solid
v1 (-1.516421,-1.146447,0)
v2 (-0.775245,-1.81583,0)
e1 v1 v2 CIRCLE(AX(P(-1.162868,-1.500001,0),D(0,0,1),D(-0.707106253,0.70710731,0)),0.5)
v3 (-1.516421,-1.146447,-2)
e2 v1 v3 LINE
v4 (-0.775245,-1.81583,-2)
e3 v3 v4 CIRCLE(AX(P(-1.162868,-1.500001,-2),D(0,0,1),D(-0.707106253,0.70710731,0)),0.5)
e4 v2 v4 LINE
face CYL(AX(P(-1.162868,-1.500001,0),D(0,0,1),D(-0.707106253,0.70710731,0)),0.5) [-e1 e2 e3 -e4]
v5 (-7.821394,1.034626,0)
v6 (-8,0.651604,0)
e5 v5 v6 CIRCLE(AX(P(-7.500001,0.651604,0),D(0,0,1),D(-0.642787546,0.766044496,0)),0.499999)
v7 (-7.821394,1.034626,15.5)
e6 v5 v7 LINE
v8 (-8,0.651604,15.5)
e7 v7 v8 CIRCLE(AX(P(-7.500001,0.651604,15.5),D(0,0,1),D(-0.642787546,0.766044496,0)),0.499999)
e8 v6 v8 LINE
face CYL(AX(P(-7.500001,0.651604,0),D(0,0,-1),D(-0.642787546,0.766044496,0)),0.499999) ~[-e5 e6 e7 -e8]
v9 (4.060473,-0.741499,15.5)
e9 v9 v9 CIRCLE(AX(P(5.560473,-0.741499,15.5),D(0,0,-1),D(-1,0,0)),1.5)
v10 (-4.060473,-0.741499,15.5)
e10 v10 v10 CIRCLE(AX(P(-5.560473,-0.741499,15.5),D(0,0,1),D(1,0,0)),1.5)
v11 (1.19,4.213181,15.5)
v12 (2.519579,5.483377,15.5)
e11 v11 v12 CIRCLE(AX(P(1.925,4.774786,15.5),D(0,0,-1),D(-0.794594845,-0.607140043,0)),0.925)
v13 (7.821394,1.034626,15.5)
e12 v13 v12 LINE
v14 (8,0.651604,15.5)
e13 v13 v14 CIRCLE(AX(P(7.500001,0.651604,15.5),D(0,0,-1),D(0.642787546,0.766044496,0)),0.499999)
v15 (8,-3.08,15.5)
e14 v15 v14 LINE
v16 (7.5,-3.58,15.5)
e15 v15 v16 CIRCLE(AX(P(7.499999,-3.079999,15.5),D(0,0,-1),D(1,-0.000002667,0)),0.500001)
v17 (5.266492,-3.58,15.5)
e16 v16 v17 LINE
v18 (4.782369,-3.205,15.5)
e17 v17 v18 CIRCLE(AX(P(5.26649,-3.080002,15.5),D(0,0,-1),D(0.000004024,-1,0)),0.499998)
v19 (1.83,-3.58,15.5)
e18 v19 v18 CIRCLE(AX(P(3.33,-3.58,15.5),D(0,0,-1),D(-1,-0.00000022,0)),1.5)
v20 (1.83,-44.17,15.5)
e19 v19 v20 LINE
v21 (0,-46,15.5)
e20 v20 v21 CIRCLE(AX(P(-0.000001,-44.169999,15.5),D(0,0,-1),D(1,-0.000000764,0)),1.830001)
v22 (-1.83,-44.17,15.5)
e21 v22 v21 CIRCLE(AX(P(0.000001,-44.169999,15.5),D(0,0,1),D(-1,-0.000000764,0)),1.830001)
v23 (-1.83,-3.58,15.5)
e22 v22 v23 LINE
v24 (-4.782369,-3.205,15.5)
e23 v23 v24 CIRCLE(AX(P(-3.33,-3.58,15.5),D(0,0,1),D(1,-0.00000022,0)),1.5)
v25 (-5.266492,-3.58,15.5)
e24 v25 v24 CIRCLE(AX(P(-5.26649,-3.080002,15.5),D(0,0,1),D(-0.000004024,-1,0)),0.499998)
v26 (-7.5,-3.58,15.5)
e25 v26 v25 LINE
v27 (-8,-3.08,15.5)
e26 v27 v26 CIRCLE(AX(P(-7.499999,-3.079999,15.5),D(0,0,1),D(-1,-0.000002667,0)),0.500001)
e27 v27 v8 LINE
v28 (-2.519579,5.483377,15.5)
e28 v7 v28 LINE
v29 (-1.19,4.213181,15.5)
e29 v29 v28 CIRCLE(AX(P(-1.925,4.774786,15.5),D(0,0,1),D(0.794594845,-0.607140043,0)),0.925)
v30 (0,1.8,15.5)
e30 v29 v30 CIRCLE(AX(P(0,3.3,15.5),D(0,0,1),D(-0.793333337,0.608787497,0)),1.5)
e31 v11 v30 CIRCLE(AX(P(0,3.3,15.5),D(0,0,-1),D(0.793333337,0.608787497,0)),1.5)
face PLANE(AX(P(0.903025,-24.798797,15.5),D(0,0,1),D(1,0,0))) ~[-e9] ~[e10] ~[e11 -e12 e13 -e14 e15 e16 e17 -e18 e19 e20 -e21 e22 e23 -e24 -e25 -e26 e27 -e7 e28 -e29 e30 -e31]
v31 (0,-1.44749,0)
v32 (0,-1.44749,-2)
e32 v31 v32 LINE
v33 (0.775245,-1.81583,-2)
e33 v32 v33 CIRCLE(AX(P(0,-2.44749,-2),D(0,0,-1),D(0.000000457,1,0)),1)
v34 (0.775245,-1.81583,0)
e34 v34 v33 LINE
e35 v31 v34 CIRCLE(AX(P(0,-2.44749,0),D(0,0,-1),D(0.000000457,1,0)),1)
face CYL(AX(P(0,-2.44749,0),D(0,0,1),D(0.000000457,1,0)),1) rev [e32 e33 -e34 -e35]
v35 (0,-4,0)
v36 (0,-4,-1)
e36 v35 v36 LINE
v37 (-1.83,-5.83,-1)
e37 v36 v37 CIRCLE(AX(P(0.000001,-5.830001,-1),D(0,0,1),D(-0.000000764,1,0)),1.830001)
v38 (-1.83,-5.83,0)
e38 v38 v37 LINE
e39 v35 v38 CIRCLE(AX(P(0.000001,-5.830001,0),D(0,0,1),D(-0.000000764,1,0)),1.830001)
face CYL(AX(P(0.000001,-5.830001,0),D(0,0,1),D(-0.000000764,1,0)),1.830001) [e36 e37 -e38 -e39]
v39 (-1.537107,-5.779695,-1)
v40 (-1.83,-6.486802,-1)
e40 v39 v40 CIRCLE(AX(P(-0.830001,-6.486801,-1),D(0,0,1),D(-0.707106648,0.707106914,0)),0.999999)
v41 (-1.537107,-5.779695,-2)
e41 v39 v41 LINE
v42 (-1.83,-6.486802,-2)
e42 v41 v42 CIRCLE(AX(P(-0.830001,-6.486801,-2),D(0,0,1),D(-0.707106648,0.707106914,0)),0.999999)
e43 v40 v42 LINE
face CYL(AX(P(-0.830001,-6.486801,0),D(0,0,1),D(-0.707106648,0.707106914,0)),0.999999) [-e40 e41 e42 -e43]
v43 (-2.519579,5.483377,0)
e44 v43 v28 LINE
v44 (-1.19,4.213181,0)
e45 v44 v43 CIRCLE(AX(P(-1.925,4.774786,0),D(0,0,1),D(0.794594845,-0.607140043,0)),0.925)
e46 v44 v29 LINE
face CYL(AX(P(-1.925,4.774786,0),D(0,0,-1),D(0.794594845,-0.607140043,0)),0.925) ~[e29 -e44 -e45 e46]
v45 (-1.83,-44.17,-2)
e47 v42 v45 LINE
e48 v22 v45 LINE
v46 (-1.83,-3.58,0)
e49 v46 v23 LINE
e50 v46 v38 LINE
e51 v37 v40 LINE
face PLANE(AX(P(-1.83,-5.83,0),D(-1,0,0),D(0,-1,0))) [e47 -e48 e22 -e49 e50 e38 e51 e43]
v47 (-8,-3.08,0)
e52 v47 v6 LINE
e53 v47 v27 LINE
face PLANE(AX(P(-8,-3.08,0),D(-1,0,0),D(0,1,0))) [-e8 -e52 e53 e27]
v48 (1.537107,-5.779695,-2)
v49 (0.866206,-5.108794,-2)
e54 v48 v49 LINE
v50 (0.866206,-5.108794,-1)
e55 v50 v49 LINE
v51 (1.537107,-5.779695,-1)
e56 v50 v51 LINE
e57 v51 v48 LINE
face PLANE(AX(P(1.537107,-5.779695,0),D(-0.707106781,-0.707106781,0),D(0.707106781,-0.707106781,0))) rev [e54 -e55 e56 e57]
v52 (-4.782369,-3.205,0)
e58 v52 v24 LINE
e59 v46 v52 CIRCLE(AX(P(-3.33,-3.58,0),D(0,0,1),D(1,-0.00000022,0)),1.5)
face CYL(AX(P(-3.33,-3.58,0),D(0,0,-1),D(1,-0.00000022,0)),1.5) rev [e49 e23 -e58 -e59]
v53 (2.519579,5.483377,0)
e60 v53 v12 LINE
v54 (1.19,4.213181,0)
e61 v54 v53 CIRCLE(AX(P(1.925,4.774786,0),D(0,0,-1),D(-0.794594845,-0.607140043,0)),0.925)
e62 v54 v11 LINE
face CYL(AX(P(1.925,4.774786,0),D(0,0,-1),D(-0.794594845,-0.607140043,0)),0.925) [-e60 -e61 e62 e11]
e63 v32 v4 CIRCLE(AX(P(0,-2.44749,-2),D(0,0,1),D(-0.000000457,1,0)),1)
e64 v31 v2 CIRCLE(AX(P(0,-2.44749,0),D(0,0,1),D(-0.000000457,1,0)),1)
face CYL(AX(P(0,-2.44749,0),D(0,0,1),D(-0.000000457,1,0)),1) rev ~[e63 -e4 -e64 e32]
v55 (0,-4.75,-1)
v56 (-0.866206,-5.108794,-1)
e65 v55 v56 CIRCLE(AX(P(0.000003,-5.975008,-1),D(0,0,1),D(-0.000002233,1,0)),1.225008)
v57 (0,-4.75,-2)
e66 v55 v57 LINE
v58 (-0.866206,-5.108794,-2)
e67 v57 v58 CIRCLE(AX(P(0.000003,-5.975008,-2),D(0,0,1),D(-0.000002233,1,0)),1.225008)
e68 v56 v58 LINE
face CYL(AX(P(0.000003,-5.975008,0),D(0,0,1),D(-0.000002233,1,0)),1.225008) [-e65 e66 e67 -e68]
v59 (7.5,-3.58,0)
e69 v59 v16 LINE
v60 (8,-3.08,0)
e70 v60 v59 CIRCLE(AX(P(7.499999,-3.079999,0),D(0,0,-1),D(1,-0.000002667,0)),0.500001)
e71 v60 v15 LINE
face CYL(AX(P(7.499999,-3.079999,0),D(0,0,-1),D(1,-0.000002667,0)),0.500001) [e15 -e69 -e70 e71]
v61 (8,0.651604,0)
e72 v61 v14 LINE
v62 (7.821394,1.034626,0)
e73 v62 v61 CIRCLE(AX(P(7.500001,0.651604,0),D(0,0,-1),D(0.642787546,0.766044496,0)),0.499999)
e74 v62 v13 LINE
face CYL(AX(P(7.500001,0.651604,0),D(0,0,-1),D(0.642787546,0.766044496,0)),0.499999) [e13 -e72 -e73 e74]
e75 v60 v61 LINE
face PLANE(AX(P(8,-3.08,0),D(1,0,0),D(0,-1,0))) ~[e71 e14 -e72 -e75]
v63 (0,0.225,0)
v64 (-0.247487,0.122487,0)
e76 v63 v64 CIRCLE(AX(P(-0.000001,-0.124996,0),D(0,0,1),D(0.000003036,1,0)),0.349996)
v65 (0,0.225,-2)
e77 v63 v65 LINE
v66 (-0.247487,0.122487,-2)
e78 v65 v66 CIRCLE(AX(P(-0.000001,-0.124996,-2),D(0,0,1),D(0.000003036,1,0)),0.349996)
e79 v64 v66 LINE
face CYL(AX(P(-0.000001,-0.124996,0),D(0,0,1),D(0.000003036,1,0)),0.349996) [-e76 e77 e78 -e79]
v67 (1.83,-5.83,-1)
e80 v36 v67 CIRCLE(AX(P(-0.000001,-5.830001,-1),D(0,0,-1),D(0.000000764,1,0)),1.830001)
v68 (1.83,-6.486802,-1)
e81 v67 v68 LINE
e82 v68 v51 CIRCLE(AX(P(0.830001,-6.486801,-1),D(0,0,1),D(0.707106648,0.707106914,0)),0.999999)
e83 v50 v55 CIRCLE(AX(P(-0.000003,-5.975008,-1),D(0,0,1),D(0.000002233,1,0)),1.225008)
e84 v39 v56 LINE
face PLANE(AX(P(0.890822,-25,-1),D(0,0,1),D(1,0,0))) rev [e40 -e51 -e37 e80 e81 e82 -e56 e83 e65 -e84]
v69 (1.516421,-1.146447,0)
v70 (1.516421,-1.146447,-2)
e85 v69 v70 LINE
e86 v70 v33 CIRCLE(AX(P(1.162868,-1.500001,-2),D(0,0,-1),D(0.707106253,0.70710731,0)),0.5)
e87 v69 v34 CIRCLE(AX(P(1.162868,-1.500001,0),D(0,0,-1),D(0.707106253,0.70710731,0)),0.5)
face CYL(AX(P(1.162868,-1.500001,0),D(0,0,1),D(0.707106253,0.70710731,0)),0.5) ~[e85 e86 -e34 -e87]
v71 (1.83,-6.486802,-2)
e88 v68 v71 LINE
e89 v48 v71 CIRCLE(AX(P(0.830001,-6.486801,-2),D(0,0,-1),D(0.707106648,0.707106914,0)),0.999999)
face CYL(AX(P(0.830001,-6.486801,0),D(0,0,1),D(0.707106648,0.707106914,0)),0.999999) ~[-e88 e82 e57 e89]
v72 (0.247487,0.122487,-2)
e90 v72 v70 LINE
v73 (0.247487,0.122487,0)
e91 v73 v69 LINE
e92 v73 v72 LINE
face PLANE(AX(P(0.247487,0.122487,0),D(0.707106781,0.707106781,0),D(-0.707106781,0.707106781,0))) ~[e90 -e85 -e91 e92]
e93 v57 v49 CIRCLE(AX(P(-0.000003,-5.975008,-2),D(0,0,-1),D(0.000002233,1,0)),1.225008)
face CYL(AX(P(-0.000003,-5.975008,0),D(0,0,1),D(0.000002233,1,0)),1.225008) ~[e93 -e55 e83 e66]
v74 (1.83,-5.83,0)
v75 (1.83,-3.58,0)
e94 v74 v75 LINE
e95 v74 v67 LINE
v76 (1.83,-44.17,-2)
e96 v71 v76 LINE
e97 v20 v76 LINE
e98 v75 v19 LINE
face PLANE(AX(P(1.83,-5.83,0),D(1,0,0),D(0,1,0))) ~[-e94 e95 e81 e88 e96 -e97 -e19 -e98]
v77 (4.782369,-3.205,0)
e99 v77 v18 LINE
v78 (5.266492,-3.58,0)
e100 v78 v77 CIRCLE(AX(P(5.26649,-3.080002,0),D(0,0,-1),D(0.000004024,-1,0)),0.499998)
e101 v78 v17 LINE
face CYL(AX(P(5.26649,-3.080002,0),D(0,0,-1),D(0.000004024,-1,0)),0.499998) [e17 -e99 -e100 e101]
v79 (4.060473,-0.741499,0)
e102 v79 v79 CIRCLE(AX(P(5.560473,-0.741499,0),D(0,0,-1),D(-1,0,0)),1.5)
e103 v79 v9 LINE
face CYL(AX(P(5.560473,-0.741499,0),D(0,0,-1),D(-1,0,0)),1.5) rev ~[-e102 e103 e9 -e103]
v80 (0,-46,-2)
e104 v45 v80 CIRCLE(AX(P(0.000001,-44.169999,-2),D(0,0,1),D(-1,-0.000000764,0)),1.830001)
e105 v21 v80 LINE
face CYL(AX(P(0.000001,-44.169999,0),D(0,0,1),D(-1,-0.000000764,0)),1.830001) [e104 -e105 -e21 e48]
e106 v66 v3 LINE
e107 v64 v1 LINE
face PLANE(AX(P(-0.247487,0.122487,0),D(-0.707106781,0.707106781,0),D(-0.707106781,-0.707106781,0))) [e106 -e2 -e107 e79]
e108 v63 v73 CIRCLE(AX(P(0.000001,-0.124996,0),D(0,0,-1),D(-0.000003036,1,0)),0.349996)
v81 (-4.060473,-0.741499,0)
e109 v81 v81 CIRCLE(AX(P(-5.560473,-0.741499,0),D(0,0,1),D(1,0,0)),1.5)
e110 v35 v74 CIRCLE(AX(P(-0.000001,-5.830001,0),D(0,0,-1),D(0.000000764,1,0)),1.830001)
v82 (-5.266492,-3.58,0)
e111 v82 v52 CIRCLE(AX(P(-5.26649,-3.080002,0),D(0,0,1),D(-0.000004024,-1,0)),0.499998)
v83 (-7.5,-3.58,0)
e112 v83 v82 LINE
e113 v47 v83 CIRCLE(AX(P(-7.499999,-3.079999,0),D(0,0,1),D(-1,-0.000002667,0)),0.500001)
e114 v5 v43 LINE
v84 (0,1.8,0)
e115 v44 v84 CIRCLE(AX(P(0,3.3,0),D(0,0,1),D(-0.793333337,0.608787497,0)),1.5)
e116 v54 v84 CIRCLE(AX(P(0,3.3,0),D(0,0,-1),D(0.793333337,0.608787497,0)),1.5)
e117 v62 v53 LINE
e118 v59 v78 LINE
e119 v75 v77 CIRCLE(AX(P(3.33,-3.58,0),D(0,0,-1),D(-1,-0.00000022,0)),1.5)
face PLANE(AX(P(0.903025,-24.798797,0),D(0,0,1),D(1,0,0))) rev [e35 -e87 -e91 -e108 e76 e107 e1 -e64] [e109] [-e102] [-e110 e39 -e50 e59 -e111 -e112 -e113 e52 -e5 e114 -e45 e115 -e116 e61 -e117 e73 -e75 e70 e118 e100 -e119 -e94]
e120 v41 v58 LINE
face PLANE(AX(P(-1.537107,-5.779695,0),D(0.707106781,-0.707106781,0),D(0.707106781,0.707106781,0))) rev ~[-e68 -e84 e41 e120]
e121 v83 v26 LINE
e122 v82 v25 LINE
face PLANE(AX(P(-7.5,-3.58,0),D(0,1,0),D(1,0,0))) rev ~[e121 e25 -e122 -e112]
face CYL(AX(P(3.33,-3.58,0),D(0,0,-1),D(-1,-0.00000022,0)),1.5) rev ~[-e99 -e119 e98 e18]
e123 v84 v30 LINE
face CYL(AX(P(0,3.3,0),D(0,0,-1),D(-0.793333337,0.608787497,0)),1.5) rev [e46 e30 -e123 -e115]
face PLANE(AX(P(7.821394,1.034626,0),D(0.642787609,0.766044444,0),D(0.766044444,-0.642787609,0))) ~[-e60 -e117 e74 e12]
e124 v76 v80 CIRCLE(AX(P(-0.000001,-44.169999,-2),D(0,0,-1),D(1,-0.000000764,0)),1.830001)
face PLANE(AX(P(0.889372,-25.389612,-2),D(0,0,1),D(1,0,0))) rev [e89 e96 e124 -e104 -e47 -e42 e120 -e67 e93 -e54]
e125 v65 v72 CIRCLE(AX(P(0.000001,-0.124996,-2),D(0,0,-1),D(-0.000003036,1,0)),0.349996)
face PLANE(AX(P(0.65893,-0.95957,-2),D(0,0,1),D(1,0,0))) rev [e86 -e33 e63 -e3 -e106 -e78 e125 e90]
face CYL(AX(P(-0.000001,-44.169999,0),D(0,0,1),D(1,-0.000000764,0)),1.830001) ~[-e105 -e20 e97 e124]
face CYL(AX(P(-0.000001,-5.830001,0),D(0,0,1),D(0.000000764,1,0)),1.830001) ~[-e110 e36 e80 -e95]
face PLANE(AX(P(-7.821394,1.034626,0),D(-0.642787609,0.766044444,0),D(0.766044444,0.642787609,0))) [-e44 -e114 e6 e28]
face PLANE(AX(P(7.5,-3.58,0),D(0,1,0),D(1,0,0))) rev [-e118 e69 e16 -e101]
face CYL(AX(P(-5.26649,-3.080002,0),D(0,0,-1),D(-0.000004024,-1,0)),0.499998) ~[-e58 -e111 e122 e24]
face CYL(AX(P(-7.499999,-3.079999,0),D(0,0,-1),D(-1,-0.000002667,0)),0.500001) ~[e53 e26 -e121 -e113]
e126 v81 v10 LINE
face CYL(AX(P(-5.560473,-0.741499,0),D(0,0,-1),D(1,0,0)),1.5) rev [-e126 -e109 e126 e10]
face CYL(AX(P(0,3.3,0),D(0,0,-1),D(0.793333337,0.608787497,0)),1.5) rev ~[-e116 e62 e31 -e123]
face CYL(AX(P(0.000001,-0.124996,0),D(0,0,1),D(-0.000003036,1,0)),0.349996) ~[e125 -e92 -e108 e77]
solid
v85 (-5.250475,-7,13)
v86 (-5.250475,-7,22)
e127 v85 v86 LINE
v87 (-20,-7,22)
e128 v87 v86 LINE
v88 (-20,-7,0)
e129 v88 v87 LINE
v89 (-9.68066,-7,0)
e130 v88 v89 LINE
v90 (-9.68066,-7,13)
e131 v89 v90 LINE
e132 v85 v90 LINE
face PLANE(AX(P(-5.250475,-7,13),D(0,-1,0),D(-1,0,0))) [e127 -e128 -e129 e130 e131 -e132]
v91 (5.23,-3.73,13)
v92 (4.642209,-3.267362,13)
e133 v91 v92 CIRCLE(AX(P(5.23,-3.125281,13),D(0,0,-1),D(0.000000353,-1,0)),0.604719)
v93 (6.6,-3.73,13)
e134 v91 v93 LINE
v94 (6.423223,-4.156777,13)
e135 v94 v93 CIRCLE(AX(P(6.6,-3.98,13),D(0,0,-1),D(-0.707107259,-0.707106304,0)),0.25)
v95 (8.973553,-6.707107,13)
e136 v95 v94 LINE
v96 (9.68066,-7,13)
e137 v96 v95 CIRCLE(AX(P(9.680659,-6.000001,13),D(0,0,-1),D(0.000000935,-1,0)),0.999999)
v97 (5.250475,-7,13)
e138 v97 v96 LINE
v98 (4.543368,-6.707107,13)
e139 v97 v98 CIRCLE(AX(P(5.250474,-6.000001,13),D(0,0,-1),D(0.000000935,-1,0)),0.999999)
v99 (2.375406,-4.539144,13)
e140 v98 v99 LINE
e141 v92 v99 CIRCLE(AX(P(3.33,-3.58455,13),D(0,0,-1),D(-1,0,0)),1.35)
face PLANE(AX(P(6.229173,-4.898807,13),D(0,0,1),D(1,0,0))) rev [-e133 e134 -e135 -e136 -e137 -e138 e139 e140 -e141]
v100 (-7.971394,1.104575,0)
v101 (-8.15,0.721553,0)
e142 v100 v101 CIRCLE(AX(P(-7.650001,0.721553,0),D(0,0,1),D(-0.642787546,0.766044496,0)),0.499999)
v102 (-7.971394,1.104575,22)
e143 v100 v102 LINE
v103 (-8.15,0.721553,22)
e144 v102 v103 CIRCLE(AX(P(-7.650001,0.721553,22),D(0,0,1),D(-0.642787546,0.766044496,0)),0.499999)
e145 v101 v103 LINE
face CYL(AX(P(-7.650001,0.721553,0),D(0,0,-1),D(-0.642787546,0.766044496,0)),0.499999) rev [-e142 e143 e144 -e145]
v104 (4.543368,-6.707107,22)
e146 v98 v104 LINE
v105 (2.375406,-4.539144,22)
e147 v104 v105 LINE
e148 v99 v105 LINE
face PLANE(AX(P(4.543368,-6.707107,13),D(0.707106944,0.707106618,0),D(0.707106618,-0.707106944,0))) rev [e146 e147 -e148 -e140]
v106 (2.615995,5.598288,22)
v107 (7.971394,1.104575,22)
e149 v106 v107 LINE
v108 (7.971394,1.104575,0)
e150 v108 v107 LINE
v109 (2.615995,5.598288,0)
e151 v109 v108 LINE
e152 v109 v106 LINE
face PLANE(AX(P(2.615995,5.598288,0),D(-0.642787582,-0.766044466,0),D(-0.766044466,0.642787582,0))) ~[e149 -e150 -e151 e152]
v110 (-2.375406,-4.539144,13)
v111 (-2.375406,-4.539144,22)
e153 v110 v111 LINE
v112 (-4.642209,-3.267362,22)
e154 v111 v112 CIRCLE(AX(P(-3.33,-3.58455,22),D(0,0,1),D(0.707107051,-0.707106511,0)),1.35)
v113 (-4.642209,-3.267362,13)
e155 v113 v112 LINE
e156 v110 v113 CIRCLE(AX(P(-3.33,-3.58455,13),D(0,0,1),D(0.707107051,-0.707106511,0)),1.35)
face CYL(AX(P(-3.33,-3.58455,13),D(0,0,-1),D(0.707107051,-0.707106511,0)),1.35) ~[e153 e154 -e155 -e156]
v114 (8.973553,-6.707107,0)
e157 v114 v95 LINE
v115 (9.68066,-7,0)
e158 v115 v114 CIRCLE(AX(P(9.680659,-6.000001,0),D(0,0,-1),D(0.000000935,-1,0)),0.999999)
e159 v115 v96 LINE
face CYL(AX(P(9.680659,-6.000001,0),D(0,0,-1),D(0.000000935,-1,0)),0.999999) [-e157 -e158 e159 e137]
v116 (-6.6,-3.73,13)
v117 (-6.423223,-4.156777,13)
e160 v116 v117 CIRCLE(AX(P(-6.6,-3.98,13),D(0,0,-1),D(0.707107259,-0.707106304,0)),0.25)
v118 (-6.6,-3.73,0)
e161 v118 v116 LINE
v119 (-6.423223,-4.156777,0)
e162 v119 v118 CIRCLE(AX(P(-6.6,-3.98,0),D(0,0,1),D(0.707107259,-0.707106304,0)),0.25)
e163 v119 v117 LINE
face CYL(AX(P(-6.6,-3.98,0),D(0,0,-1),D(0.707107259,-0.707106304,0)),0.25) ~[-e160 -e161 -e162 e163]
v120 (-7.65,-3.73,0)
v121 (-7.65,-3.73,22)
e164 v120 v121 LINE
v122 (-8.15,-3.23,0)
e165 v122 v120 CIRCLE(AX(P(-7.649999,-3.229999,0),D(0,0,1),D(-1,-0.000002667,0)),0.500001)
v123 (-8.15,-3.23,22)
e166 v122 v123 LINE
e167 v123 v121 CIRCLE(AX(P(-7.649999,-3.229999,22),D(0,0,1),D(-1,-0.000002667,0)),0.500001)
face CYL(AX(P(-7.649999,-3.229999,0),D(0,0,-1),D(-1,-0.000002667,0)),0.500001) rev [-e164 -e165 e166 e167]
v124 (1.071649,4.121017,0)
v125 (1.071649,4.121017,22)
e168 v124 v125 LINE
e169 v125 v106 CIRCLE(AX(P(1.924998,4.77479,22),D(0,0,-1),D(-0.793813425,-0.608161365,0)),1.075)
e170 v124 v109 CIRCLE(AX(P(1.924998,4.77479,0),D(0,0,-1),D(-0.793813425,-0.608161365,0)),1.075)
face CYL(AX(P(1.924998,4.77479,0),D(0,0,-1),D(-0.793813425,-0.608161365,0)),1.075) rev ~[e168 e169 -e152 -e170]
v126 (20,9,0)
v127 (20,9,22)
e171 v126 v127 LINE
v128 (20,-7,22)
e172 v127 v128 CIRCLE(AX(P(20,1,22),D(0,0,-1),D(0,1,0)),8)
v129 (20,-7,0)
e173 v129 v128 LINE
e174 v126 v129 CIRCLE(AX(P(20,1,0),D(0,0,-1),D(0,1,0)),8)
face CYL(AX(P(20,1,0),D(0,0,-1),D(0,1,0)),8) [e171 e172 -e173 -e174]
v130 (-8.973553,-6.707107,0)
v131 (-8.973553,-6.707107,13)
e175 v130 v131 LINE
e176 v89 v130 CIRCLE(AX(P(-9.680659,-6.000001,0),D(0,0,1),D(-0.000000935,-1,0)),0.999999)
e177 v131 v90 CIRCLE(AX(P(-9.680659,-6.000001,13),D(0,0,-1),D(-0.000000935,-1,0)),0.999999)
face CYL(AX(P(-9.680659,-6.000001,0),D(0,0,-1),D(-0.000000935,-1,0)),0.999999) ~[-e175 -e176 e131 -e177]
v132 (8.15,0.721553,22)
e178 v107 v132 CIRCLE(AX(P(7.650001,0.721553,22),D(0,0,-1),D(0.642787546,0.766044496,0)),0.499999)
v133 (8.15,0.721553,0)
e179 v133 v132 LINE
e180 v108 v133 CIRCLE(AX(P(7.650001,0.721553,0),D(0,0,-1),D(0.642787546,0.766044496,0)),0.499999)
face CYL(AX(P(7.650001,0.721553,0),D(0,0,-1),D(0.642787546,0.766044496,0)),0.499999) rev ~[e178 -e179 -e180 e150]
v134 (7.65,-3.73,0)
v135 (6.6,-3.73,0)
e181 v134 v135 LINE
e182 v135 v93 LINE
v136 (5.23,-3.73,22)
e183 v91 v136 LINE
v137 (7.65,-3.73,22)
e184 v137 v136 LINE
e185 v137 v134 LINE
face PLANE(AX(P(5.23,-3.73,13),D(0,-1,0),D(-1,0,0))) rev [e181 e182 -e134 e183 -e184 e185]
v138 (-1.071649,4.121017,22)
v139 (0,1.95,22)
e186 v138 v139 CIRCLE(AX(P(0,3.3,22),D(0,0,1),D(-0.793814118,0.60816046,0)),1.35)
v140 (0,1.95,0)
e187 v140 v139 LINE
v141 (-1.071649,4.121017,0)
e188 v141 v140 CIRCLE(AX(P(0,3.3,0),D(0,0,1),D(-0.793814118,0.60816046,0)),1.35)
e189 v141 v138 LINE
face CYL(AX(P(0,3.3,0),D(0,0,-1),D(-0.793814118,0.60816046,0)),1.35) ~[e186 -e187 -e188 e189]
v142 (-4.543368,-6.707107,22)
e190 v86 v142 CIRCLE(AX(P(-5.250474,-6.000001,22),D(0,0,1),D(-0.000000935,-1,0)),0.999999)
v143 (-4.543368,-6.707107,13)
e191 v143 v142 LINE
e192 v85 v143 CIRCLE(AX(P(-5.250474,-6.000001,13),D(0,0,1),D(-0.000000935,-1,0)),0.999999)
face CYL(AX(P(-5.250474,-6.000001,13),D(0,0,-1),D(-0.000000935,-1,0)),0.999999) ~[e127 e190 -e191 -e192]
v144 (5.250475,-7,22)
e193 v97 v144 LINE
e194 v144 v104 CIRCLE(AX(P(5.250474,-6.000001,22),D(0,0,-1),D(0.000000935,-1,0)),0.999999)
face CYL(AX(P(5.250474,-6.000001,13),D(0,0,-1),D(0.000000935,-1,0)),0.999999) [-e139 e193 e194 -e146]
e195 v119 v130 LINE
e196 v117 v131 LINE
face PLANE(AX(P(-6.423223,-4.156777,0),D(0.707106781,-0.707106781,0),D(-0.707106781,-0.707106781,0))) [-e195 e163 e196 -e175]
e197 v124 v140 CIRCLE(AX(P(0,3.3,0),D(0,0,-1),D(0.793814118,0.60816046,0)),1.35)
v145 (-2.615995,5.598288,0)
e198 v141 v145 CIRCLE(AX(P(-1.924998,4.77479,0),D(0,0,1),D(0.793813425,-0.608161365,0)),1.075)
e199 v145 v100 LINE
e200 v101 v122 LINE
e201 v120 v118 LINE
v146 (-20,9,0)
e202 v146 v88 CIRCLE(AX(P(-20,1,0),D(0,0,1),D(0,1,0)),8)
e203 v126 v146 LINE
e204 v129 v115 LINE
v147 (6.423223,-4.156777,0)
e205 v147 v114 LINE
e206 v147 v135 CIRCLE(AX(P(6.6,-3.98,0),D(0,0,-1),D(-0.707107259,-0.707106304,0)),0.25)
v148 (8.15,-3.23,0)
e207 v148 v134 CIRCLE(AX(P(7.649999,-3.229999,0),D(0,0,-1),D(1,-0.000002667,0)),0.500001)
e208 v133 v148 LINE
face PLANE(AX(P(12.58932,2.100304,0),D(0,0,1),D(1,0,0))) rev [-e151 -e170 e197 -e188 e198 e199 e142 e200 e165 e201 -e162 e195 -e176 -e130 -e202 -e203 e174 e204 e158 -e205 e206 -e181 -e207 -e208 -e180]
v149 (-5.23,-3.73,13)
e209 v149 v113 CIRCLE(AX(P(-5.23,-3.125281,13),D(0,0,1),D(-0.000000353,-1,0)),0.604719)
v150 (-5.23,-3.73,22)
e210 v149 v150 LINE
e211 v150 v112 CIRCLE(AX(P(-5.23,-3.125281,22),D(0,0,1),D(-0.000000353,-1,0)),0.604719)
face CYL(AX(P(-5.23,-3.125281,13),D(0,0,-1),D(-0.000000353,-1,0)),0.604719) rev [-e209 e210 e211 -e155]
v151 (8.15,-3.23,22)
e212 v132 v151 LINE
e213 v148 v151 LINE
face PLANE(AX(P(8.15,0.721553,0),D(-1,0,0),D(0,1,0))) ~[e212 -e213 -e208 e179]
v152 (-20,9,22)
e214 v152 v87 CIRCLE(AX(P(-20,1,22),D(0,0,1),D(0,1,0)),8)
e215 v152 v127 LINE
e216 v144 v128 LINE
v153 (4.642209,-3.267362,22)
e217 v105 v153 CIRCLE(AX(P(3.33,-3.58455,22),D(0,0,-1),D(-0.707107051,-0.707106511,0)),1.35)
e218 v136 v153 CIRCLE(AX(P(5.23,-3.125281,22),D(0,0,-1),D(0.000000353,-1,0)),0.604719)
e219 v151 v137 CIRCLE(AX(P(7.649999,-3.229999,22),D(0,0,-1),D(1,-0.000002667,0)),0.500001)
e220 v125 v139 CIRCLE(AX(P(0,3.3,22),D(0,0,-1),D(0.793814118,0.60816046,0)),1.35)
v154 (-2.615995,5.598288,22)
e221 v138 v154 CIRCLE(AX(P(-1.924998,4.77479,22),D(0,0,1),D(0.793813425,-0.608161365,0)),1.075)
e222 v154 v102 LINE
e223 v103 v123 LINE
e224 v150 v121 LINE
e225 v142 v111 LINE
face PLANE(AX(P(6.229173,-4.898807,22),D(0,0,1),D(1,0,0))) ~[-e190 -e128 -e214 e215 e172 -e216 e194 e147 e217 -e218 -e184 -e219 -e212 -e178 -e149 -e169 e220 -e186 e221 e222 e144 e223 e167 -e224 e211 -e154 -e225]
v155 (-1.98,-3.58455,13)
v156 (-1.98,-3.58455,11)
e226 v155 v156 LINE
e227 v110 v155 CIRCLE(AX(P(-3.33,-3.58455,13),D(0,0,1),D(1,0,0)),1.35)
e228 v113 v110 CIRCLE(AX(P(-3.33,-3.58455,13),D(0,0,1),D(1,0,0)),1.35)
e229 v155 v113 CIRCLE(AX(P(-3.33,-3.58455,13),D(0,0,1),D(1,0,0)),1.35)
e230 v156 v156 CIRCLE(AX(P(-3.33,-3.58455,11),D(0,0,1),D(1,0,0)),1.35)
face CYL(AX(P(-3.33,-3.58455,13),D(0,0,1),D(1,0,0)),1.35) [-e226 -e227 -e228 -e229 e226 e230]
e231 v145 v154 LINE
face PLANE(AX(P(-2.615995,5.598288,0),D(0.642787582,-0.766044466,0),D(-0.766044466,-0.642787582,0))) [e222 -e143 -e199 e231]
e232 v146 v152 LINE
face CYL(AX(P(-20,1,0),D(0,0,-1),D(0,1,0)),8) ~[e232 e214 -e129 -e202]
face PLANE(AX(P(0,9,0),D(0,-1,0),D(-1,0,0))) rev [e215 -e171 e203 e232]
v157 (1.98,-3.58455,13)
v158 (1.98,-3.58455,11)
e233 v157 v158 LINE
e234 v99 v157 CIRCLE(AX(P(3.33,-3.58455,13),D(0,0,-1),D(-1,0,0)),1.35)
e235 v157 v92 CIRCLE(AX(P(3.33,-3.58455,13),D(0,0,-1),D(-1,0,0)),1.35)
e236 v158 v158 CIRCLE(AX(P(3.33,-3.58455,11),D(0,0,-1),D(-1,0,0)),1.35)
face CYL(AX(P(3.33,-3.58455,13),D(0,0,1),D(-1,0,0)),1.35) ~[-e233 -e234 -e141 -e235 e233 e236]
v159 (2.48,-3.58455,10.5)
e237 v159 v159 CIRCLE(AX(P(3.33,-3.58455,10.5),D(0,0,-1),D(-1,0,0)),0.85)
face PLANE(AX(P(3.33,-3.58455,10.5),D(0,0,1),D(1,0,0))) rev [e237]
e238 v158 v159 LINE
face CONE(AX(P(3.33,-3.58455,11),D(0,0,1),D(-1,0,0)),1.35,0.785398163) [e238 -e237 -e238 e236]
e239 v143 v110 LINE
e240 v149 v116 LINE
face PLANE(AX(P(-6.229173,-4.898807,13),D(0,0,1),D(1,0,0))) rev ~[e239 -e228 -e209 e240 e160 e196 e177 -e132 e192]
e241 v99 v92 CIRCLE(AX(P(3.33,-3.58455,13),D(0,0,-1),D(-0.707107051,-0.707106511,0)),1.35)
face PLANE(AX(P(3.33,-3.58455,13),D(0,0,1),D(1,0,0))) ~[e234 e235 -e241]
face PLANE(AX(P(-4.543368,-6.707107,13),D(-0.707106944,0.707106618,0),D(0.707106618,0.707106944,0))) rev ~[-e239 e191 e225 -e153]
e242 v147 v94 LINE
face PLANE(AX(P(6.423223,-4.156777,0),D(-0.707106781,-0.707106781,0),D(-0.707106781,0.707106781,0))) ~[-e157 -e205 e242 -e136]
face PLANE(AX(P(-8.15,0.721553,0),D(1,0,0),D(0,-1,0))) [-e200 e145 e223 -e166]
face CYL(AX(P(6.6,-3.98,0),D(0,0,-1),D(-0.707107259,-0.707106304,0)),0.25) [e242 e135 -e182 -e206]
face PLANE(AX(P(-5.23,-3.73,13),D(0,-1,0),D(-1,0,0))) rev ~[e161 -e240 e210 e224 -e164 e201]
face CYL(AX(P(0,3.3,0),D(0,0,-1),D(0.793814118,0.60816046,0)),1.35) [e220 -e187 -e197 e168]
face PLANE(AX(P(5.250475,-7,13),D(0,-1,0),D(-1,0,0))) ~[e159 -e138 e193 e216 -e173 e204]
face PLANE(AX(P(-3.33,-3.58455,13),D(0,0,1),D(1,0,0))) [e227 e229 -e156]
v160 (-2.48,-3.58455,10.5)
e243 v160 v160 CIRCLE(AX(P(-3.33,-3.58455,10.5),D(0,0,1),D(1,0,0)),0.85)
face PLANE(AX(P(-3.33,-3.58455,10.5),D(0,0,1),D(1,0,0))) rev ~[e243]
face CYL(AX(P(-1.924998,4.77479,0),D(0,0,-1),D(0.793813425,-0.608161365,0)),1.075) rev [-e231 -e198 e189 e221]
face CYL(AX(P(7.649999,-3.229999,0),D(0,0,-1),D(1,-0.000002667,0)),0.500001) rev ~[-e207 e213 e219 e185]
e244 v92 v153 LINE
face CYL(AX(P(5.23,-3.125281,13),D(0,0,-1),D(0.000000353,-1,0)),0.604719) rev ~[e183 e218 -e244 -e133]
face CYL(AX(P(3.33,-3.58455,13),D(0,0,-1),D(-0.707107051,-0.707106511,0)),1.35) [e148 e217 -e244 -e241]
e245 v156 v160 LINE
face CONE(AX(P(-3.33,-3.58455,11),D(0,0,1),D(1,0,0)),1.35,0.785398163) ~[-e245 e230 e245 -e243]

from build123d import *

# Parameters (mm, degrees)
SKETCH_R     = 1.5
PAD_DEPTH    = 15.5
PAD006_DEPTH = 2
PAD005_DEPTH = 15.5
PAD007_DEPTH = 1
PAD008_DEPTH = 2
PAD001_DEPTH = 22
PAD002_DEPTH = 9
SKETCH003_R  = 1.35
PAD003_DEPTH = 2.5
CHAMFER_SIZE = 0.5


with BuildPart() as body:
    # Sketch → Pad (new body)
    with BuildSketch(Plane.XY):
        with BuildLine():
            ThreePointArc((-1.83, -3.58), (-3.140994, -2.091955), (-4.782369, -3.205))
            ThreePointArc((-5.266492, -3.58), (-4.960305, -3.475285), (-4.782369, -3.205))
            Line((-7.5, -3.58), (-5.266492, -3.58))
            ThreePointArc((-8, -3.08), (-7.853553, -3.433553), (-7.5, -3.58))
            Line((-8, -3.08), (-8, 0.651604))
            ThreePointArc((-7.821394, 1.034626), (-7.953154, 0.862913), (-8, 0.651604))
            Line((-7.821394, 1.034626), (-2.519579, 5.483377))
            ThreePointArc((-1.19, 4.213181), (-1.286033, 5.443625), (-2.519579, 5.483377))
            ThreePointArc((-1.19, 4.213181), (-1.34532, 2.636589), (0, 1.8))
            Line((0, -4), (0, 1.8))
            Line((-1.83, -4), (0, -4))
            Line((-1.83, -3.58), (-1.83, -4))
        make_face()
        with Locations((-5.560473, -0.741499)):
            Circle(SKETCH_R, mode=Mode.SUBTRACT)
    pad = extrude(amount=PAD_DEPTH)

    # Sketch006 → Pad006 (join)
    with BuildSketch(Plane.XY):
        with BuildLine():
            ThreePointArc((0, 0.225), (-0.133939, 0.198358), (-0.247487, 0.122487))
            Line((-0.247487, 0.122487), (-1.516421, -1.146447))
            ThreePointArc((-1.516421, -1.146447), (-1.497993, -1.871068), (-0.775245, -1.81583))
            ThreePointArc((0, -1.44749), (-0.42915, -1.544257), (-0.775245, -1.81583))
            Line((0, 0.225), (0, -1.44749))
        make_face()
    pad006 = extrude(amount=-PAD006_DEPTH)

    # Mirrored: Pad, Pad006 across Sketch V_Axis
    add(pad.mirror(Plane(origin=(0, 0, 0), x_dir=(0, 0, 1), z_dir=(1, 0, 0))))
    add(pad006.mirror(Plane(origin=(0, 0, 0), x_dir=(0, 0, 1), z_dir=(1, 0, 0))))

    # Sketch005 → Pad005 (join)
    with BuildSketch(Plane.XY):
        with BuildLine():
            Line((-1.83, -4), (-1.83, -44.17))
            ThreePointArc((-1.83, -44.17), (-1.294005, -45.464005), (0, -46))
            Line((0, -4), (0, -46))
            Line((-1.83, -4), (0, -4))
        make_face()
    pad005 = extrude(amount=PAD005_DEPTH)

    # Sketch007 → Pad007 (join)
    with BuildSketch(Plane.XY):
        with BuildLine():
            ThreePointArc((0, -4), (-1.294005, -4.535995), (-1.83, -5.83))
            Line((-1.83, -5.83), (-1.83, -44.17))
            ThreePointArc((-1.83, -44.17), (-1.294005, -45.464005), (0, -46))
            Line((0, -4), (0, -46))
        make_face()
    pad007 = extrude(amount=-PAD007_DEPTH)

    # Sketch008 → Pad008 (join)
    with BuildSketch(Plane.XY):
        with BuildLine():
            ThreePointArc((0, -4.75), (-0.468787, -4.843248), (-0.866206, -5.108794))
            Line((-1.537107, -5.779695), (-0.866206, -5.108794))
            ThreePointArc((-1.537107, -5.779695), (-1.75388, -6.104119), (-1.83, -6.486802))
            Line((-1.83, -6.486802), (-1.83, -44.17))
            ThreePointArc((-1.83, -44.17), (-1.294005, -45.464005), (0, -46))
            Line((0, -4.75), (0, -46))
        make_face()
    pad008 = extrude(amount=-PAD008_DEPTH)

    # Mirrored002: Pad005, Pad007, Pad008 across Sketch004 V_Axis
    add(pad005.mirror(Plane(origin=(0, 0, 0), x_dir=(0, 0, 1), z_dir=(1, 0, 0))))
    add(pad007.mirror(Plane(origin=(0, 0, 0), x_dir=(0, 0, 1), z_dir=(1, 0, 0))))
    add(pad008.mirror(Plane(origin=(0, 0, 0), x_dir=(0, 0, 1), z_dir=(1, 0, 0))))


with BuildPart() as body001:
    # Sketch001 → Pad001 (new body)
    with BuildSketch(Plane.XY):
        with BuildLine():
            Line((0, 9), (-20, 9))
            ThreePointArc((-20, 9), (-28, 1), (-20, -7))
            Line((-20, -7), (-9.68066, -7))
            ThreePointArc((-9.68066, -7), (-9.297977, -6.92388), (-8.973553, -6.707107))
            Line((-6.423223, -4.156777), (-8.973553, -6.707107))
            ThreePointArc((-6.423223, -4.156777), (-6.36903, -3.884329), (-6.6, -3.73))
            Line((-7.65, -3.73), (-6.6, -3.73))
            ThreePointArc((-8.15, -3.23), (-8.003553, -3.583553), (-7.65, -3.73))
            Line((-8.15, 0.721553), (-8.15, -3.23))
            ThreePointArc((-7.971394, 1.104575), (-8.103154, 0.932862), (-8.15, 0.721553))
            Line((-2.615995, 5.598288), (-7.971394, 1.104575))
            ThreePointArc((-1.071649, 4.121017), (-1.181916, 5.551613), (-2.615995, 5.598288))
            ThreePointArc((-1.071649, 4.121017), (-1.210552, 2.702452), (0, 1.95))
            Line((0, 9), (0, 1.95))
        make_face()
    pad001 = extrude(amount=PAD001_DEPTH)

    # Sketch002 (on DatumPlane) → Pad002 (join)
    with BuildSketch(Plane.XY.offset(13)):
        with BuildLine():
            ThreePointArc((-2.375406, -4.539144), (-2.669448, -2.407193), (-4.642209, -3.267362))
            ThreePointArc((-5.23, -3.73), (-4.85599, -3.600467), (-4.642209, -3.267362))
            Line((-5.23, -3.73), (-10, -3.73))
            Line((-10, -7), (-10, -3.73))
            Line((-5.250475, -7), (-10, -7))
            ThreePointArc((-5.250475, -7), (-4.867792, -6.92388), (-4.543368, -6.707107))
            Line((-4.543368, -6.707107), (-2.375406, -4.539144))
        make_face()
    pad002 = extrude(amount=PAD002_DEPTH)

    # Sketch003 (on DatumPlane) → Pad003 (join)
    with BuildSketch(Plane.XY.offset(13)):
        with Locations((-3.33, -3.58455)):
            Circle(SKETCH003_R)
    pad003 = extrude(amount=-PAD003_DEPTH)

    # Mirrored001: Pad001, Pad002, Pad003 across Sketch001 V_Axis
    add(pad001.mirror(Plane(origin=(0, 0, 0), x_dir=(0, 0, 1), z_dir=(1, 0, 0))))
    add(pad002.mirror(Plane(origin=(0, 0, 0), x_dir=(0, 0, 1), z_dir=(1, 0, 0))))
    add(pad003.mirror(Plane(origin=(0, 0, 0), x_dir=(0, 0, 1), z_dir=(1, 0, 0))))

    # Chamfer
    chamfer_edges = [body001.edges().sort_by_distance(p)[0] for p in [
        (4.68, -3.58455, 10.5),
        (-4.68, -3.58455, 10.5),
    ]]
    chamfer(chamfer_edges, length=CHAMFER_SIZE)


solid = Compound([body.part, body001.part])
